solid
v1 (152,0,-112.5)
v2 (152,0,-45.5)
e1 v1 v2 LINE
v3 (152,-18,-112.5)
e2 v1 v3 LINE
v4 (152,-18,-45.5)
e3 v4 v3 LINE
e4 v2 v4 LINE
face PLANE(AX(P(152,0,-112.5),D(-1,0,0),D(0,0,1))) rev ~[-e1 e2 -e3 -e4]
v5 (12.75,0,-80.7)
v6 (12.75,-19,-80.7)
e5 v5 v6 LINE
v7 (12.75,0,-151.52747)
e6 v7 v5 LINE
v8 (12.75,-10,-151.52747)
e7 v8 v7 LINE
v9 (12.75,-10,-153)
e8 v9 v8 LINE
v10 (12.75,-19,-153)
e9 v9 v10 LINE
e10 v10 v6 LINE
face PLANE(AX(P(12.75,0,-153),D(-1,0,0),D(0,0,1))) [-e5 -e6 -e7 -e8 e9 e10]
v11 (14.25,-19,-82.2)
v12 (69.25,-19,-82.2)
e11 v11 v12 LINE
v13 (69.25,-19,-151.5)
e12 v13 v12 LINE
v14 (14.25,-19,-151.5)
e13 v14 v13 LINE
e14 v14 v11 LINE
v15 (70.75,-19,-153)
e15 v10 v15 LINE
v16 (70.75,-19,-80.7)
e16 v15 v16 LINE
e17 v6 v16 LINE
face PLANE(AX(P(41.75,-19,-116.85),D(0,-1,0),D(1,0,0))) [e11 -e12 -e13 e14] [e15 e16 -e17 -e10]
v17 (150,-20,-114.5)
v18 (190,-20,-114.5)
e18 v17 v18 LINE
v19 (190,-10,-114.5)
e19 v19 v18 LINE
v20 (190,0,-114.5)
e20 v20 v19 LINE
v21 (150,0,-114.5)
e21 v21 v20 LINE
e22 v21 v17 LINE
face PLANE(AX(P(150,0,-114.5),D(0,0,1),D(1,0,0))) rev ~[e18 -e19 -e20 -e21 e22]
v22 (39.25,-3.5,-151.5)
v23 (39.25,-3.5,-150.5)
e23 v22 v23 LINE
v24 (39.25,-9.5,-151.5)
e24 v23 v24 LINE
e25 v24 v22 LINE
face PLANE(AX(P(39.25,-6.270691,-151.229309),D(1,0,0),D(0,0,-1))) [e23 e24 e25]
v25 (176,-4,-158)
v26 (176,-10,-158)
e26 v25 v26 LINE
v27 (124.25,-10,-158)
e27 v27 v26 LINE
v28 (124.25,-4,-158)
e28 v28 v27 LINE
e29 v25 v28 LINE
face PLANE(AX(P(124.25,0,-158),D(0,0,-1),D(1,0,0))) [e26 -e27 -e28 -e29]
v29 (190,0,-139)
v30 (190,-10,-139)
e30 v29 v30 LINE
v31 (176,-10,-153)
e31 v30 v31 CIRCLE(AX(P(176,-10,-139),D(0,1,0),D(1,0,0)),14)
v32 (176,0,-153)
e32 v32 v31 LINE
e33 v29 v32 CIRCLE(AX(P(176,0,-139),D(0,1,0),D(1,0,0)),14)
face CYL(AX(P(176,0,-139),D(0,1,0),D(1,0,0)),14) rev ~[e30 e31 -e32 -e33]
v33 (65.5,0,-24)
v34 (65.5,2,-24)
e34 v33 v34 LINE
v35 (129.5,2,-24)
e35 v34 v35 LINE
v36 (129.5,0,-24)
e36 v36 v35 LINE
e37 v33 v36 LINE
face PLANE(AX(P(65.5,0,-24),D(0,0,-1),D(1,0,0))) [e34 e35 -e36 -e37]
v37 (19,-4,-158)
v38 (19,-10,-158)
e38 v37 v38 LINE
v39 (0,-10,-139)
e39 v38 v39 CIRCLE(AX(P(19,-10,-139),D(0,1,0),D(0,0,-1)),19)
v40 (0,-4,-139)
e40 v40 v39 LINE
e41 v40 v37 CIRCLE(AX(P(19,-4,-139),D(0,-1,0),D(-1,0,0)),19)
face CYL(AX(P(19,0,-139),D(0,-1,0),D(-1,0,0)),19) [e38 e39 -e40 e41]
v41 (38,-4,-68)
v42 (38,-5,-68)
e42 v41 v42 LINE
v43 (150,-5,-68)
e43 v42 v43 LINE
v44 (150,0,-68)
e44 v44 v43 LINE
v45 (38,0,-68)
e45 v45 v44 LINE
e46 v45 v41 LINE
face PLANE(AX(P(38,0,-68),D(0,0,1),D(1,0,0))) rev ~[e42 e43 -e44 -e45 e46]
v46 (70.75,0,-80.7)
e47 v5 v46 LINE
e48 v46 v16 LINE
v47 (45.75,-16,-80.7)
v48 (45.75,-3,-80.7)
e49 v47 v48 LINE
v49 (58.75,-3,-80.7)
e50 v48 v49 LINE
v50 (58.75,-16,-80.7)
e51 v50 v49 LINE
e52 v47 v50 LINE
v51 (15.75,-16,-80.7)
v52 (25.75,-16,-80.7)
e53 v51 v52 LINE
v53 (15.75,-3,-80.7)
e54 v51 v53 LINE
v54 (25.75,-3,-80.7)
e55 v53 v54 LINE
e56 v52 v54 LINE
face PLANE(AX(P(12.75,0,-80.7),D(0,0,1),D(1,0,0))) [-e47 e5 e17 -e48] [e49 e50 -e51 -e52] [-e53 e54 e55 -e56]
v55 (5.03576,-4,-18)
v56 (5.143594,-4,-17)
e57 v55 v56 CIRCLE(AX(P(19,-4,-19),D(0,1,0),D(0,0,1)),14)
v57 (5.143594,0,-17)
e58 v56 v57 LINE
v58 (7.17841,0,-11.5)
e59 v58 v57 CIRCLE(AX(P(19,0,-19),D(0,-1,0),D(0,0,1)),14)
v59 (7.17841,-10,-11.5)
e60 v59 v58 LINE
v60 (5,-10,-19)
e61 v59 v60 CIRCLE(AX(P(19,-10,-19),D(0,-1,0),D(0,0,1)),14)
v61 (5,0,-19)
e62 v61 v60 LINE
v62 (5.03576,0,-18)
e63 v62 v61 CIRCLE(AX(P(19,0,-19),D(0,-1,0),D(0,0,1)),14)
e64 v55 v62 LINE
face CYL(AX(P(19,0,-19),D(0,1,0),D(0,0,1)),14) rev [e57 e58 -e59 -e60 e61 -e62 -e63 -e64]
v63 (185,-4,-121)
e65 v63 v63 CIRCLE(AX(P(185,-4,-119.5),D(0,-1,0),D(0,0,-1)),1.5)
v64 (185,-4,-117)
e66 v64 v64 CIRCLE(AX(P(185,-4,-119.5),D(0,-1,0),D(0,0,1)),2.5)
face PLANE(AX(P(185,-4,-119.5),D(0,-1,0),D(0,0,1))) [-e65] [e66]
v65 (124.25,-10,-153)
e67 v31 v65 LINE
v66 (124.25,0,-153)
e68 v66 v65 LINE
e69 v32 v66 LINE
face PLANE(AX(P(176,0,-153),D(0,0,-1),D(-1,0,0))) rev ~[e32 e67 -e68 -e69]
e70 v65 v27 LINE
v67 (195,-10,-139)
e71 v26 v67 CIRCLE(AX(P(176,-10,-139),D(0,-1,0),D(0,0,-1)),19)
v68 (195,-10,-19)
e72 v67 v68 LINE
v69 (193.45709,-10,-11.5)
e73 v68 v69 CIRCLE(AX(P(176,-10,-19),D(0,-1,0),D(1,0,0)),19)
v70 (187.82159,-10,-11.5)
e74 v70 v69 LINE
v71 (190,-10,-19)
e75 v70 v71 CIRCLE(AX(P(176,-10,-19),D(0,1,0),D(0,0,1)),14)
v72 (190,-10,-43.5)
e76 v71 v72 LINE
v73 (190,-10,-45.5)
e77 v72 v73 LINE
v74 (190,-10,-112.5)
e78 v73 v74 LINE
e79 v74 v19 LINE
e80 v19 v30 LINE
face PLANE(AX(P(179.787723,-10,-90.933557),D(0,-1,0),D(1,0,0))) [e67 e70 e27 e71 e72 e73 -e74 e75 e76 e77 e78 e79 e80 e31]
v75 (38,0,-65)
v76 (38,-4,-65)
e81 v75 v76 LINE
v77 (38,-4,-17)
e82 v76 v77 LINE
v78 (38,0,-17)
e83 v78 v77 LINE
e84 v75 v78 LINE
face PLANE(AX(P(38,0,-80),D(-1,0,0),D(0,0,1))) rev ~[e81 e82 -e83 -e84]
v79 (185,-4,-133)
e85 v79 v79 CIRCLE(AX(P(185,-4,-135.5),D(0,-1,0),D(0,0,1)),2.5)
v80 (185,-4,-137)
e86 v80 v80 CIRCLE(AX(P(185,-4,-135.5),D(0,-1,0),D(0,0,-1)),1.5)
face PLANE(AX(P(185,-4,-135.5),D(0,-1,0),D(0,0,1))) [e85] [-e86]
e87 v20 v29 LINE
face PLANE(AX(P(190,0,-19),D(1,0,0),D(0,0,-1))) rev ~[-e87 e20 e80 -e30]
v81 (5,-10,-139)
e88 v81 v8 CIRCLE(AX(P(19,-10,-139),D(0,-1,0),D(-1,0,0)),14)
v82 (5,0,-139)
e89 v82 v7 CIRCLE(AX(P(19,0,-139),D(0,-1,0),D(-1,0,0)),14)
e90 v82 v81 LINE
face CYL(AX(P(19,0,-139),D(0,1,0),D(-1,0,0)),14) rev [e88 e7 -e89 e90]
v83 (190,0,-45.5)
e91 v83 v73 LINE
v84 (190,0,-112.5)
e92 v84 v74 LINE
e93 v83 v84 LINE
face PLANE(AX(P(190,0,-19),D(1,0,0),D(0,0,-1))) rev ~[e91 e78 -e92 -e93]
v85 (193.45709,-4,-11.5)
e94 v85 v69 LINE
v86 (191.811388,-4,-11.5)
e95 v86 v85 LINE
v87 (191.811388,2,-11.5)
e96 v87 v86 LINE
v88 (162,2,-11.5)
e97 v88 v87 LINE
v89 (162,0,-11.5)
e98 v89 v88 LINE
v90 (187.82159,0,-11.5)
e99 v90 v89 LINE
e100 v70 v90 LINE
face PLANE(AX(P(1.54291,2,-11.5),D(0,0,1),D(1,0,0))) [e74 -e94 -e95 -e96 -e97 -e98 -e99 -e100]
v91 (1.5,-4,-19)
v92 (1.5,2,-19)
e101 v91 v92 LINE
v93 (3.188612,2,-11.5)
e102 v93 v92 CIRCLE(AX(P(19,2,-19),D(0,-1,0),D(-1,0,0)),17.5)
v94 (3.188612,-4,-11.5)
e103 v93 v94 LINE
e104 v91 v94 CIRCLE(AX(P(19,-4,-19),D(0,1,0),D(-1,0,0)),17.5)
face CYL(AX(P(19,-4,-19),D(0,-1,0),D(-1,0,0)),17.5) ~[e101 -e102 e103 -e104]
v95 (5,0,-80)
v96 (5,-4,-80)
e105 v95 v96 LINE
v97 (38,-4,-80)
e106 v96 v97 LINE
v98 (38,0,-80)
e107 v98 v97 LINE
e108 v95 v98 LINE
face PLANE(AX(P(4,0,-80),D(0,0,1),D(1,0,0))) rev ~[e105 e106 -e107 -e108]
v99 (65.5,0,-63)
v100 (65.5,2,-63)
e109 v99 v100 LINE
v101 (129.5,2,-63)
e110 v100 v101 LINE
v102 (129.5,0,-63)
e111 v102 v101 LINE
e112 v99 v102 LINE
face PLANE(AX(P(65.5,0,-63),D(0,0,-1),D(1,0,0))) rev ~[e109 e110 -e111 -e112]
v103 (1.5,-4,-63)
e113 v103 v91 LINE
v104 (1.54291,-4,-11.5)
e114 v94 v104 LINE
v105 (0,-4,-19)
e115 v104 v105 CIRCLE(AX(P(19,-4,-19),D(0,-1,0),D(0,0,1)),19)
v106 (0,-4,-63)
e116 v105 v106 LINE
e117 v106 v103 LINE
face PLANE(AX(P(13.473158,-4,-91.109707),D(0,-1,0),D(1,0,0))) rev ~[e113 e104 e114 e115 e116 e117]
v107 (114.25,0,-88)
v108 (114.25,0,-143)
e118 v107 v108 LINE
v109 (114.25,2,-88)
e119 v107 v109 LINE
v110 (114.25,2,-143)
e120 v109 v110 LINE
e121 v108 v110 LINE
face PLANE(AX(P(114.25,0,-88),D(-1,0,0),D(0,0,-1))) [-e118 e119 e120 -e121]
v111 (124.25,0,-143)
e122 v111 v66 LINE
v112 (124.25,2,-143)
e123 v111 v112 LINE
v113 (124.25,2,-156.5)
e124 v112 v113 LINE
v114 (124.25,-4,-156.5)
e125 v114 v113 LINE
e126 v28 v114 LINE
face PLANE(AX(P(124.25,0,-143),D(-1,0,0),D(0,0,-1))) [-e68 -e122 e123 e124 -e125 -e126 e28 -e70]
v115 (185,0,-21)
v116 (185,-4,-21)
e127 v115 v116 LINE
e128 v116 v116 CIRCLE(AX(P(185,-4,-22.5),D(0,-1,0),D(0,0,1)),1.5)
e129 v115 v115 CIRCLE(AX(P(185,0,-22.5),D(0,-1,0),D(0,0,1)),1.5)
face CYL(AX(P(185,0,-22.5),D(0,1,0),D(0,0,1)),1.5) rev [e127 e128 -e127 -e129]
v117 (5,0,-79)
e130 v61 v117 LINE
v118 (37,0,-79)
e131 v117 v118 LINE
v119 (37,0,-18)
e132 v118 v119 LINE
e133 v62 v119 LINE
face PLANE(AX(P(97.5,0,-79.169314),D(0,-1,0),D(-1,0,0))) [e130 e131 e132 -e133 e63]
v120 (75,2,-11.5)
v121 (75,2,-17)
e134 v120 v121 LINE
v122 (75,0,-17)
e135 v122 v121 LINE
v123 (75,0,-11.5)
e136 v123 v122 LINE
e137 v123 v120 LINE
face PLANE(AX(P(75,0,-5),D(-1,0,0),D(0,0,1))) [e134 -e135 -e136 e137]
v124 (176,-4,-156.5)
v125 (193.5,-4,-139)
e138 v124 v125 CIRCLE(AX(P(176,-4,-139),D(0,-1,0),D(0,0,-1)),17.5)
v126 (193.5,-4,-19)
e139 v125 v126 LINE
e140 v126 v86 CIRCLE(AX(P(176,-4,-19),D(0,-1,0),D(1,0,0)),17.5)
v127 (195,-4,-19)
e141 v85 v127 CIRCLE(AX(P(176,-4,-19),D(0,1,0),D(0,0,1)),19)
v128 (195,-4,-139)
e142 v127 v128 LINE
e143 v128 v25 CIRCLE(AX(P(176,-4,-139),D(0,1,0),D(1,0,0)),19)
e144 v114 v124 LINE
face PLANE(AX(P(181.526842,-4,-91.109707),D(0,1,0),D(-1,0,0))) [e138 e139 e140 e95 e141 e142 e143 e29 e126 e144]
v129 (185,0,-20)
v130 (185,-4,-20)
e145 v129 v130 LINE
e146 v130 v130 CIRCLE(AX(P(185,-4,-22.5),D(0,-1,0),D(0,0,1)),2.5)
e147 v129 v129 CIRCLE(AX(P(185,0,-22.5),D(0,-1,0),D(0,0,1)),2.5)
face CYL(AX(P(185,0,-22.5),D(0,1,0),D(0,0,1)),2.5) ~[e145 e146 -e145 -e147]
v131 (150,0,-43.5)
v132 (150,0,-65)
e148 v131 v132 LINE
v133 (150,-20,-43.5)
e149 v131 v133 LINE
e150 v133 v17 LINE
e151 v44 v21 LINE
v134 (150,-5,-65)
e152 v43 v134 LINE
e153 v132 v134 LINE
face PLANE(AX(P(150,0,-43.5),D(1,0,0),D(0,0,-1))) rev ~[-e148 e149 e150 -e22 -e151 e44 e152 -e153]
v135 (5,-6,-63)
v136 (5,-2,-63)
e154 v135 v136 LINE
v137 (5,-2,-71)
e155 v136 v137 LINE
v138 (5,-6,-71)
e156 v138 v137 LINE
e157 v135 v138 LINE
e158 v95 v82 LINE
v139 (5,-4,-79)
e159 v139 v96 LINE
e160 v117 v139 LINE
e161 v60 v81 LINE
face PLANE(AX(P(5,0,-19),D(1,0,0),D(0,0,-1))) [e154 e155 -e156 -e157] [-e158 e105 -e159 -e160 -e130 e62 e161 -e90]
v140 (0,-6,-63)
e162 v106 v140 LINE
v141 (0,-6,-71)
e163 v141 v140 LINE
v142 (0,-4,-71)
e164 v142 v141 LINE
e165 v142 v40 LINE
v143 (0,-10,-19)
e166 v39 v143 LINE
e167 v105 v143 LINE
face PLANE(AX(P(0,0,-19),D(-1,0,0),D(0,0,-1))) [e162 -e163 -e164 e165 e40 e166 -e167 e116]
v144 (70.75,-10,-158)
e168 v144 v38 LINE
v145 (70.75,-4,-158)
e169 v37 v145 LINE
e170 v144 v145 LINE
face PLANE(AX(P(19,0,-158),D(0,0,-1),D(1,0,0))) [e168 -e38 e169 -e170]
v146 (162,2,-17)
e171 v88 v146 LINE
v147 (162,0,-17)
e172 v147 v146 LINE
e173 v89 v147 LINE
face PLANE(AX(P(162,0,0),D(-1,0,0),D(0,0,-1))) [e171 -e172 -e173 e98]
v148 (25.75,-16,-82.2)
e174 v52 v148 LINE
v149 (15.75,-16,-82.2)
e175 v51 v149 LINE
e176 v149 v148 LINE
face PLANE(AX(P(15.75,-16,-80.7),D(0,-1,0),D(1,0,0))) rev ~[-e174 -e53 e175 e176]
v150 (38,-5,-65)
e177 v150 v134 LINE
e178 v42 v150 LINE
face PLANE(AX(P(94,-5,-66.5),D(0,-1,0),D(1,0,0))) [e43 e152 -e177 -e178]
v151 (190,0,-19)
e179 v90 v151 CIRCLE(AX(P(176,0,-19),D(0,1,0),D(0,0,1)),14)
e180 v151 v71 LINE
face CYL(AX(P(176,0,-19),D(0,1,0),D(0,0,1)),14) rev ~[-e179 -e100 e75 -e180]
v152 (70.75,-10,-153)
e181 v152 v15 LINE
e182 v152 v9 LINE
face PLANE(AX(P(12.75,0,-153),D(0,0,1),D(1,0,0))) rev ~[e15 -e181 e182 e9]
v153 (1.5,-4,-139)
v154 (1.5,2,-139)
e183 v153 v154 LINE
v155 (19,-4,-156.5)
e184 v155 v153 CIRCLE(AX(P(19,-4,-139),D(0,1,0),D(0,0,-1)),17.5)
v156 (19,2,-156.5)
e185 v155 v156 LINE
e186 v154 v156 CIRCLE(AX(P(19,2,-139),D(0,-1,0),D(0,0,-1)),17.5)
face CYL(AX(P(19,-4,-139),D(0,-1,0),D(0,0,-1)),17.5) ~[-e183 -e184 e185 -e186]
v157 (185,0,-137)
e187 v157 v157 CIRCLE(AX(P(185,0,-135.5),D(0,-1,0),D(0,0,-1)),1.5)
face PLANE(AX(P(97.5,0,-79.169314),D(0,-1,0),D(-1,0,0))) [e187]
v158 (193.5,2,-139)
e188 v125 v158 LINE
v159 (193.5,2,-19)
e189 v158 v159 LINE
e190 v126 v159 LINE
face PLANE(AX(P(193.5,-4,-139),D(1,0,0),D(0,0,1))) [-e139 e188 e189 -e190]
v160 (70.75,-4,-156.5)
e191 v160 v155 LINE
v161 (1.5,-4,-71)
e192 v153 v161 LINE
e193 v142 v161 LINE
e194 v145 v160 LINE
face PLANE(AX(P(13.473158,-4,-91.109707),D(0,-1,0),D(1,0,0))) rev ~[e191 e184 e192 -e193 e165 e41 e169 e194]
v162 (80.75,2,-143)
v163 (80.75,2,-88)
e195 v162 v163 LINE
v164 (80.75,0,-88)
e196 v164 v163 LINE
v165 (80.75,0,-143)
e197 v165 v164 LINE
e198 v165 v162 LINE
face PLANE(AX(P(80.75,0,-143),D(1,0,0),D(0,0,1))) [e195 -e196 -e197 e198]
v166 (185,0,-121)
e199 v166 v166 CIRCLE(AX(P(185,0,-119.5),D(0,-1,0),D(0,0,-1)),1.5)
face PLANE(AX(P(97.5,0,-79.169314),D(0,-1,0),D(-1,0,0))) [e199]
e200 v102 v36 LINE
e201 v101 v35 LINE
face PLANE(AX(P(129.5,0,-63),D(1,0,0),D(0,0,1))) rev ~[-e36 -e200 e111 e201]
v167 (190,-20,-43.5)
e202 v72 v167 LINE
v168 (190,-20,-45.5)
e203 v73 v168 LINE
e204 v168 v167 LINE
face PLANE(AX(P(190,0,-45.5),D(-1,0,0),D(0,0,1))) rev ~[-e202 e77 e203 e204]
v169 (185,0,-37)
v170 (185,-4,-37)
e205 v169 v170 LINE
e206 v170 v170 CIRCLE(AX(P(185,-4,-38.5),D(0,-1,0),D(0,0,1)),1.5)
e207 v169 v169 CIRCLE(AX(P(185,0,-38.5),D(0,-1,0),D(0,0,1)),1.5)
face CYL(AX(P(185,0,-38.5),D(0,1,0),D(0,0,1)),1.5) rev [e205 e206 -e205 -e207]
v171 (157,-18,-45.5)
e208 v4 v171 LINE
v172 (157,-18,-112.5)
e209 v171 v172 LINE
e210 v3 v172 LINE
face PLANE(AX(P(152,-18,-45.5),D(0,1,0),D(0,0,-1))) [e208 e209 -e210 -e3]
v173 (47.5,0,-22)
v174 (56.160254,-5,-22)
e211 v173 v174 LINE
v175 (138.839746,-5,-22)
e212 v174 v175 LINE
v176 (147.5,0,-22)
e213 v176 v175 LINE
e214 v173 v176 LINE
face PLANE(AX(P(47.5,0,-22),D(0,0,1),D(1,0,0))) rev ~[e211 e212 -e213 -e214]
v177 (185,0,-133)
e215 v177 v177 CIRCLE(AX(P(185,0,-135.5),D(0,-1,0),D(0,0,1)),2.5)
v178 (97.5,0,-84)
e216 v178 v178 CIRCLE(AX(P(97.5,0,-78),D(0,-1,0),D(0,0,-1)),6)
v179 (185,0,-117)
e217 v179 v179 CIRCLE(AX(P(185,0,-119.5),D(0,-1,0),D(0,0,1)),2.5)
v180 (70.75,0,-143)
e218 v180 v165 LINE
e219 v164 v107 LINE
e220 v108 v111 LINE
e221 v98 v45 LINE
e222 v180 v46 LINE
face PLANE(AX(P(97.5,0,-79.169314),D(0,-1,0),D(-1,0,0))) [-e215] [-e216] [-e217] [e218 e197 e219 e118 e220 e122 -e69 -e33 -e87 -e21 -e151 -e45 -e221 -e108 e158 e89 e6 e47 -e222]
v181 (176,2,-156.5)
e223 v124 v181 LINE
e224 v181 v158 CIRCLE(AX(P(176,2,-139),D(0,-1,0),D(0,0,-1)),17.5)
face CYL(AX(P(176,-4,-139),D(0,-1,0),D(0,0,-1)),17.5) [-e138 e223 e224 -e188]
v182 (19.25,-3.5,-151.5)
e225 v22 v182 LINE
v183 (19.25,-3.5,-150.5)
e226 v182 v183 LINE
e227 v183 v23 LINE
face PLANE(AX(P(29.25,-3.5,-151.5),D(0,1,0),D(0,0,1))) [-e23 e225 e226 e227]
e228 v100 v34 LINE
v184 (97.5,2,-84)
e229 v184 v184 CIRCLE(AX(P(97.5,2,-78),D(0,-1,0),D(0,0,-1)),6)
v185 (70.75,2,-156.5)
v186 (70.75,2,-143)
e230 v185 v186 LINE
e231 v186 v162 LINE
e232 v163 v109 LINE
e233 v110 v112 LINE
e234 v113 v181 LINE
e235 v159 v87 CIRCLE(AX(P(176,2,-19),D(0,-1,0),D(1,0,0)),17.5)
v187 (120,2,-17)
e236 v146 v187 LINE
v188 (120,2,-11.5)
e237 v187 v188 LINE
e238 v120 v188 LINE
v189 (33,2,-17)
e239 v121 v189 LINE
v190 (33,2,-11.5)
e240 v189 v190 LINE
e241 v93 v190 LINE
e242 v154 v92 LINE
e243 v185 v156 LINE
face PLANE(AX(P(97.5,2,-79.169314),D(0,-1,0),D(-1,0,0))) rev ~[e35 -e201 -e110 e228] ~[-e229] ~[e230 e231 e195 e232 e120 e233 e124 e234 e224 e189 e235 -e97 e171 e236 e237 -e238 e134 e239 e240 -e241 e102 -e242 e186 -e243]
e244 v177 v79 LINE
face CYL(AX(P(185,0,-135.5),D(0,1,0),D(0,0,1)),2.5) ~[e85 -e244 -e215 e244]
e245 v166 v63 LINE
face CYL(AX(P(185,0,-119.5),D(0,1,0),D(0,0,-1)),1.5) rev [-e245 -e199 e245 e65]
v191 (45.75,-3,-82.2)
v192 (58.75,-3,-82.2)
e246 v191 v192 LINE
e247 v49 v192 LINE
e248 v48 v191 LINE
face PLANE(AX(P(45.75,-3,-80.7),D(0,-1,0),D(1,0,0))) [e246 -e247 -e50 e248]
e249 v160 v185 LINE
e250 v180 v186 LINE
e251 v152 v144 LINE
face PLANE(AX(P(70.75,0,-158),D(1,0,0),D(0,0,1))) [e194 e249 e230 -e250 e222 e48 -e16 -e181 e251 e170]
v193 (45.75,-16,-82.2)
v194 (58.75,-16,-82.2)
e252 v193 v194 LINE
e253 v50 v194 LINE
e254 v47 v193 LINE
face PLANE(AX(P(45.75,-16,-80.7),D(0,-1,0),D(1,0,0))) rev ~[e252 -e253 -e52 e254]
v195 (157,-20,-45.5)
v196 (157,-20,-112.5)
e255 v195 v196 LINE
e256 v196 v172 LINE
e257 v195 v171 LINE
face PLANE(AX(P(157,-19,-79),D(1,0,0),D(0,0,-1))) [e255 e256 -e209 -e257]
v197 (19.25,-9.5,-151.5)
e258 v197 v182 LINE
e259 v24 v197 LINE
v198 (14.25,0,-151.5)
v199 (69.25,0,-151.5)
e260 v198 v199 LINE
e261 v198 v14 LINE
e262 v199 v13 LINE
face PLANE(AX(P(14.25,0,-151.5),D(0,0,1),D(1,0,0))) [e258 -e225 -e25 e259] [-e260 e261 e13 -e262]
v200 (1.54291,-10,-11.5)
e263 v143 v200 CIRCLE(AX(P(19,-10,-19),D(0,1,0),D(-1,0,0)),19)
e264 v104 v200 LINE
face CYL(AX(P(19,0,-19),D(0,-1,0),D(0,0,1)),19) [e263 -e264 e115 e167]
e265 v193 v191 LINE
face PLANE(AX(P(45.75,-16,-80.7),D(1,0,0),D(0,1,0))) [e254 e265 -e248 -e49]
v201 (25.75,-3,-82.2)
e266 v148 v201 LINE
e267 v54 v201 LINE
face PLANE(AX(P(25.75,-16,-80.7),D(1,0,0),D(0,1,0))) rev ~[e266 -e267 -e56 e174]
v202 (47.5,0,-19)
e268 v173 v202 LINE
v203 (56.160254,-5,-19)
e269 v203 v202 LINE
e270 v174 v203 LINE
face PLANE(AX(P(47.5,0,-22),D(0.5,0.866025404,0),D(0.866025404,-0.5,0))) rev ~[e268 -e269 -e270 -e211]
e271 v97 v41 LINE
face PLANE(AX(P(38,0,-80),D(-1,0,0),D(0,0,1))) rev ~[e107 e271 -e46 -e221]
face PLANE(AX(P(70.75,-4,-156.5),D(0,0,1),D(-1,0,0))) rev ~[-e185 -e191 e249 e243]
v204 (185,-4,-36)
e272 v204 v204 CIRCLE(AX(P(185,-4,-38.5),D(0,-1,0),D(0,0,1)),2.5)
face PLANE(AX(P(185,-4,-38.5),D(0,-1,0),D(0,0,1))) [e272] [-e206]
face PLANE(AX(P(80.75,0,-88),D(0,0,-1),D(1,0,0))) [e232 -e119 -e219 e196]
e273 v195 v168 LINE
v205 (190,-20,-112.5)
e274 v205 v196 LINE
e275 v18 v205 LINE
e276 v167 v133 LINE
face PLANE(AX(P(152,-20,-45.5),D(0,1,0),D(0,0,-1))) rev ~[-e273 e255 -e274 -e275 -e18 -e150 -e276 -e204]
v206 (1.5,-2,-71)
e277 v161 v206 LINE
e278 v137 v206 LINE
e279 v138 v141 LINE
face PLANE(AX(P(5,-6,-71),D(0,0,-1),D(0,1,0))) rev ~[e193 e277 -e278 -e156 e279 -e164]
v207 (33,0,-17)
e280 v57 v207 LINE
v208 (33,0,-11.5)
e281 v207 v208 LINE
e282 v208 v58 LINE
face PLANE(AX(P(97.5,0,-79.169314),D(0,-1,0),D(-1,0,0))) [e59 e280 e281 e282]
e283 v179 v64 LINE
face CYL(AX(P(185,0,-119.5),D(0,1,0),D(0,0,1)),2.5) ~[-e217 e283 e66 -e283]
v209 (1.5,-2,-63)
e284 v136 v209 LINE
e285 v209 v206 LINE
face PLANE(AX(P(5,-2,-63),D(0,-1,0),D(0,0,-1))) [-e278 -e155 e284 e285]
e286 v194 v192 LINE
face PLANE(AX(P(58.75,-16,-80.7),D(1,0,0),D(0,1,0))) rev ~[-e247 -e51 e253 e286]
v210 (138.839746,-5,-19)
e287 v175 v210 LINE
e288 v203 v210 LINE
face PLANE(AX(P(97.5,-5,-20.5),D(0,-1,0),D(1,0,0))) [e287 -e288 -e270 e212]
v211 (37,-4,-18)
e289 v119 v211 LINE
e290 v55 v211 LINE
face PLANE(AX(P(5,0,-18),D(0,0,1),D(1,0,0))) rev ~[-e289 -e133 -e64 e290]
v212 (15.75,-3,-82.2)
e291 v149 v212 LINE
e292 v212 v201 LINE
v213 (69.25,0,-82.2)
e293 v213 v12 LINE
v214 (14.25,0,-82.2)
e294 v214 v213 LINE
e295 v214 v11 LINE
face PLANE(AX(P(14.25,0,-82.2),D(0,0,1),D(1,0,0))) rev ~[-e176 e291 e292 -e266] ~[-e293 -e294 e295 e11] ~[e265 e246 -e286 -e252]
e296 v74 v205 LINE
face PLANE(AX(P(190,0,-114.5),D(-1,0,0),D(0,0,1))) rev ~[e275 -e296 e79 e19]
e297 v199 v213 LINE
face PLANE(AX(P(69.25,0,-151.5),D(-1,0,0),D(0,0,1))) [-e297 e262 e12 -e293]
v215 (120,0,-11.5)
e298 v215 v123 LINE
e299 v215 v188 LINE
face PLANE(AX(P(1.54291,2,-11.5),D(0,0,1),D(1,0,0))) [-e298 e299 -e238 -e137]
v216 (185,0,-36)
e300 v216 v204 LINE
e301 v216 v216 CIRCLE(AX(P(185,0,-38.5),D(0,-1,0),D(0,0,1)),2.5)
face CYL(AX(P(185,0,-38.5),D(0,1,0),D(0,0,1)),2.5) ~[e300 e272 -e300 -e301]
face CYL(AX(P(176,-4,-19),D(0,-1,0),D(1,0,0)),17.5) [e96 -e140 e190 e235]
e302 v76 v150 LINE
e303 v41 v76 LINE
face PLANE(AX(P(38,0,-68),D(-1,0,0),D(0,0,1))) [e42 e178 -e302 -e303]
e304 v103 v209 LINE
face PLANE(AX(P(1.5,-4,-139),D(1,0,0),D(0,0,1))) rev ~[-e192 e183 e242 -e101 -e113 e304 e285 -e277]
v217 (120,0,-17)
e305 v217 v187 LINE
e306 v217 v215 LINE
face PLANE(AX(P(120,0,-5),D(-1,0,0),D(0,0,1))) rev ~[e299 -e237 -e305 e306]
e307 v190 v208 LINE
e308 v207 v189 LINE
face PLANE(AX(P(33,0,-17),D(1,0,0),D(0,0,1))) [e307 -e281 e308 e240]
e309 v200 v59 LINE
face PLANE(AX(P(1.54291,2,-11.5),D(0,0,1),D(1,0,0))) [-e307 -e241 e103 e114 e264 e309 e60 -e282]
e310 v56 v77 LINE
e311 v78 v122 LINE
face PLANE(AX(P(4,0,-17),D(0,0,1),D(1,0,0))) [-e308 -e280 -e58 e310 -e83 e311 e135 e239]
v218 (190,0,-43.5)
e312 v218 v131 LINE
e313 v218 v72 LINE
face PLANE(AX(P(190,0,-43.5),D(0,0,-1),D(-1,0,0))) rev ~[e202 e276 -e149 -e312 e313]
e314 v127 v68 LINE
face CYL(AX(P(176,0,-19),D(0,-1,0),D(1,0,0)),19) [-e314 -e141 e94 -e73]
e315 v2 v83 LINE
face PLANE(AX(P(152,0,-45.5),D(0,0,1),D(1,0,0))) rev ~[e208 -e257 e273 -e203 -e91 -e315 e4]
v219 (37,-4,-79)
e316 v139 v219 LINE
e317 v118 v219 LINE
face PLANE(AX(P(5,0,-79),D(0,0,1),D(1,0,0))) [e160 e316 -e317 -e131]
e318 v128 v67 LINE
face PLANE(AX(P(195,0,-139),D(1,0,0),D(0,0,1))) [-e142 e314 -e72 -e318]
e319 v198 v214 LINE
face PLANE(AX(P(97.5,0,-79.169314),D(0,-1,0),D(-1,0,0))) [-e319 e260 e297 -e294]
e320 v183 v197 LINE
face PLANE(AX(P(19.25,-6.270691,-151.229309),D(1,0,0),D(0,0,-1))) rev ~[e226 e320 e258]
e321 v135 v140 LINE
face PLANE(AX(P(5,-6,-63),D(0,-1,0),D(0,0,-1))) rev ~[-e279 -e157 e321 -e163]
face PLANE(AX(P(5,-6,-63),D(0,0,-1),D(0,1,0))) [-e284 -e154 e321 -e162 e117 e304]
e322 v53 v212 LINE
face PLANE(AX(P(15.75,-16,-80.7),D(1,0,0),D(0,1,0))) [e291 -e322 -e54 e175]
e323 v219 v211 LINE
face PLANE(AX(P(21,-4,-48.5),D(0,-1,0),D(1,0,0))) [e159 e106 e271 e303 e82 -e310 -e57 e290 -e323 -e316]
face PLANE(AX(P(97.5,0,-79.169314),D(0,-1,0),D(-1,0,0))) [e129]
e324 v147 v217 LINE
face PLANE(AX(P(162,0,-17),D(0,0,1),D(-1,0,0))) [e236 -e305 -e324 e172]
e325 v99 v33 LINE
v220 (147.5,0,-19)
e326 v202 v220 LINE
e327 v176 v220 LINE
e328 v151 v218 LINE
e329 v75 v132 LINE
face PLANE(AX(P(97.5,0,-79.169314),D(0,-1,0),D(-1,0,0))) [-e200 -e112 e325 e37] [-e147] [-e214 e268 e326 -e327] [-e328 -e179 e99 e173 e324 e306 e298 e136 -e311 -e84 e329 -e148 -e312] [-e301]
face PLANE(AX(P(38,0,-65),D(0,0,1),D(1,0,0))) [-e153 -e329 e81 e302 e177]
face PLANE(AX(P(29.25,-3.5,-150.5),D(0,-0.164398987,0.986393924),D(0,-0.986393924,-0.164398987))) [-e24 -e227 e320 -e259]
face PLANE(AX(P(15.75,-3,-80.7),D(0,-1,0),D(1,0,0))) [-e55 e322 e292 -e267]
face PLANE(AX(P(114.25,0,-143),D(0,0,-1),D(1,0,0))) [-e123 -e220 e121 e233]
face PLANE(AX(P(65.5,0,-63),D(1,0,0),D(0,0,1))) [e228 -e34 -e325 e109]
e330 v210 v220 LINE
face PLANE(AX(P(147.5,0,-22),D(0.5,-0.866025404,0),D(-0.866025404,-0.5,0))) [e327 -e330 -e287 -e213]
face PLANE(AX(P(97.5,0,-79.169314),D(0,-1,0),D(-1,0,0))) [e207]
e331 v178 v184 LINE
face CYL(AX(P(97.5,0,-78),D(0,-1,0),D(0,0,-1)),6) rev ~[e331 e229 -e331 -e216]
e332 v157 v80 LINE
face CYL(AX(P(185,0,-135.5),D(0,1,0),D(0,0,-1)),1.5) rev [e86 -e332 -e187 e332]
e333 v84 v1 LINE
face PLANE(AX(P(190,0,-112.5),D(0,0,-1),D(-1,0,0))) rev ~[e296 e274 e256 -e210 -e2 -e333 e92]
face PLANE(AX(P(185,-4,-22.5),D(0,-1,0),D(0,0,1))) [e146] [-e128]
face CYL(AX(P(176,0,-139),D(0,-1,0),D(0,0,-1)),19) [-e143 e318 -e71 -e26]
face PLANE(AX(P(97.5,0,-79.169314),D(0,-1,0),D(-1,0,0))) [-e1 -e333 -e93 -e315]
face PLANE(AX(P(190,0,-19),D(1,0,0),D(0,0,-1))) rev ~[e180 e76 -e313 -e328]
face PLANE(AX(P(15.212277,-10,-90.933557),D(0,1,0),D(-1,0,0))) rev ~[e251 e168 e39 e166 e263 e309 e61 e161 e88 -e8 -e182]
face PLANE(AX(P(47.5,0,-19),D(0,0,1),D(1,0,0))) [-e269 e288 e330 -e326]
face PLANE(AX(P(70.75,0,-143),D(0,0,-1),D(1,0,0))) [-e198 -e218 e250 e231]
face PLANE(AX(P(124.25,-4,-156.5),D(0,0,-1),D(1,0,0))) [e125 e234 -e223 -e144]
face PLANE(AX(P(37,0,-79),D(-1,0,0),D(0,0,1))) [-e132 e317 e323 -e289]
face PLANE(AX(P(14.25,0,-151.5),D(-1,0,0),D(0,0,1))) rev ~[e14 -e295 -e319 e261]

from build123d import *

# Parameters (mm, degrees)
BOSS_EXTRUDE1_DEPTH     = 2
SKETCH2_W               = 45
SKETCH2_H               = 5
BOSS_EXTRUDE2_DEPTH     = 10
BOSS_EXTRUDE3_DEPTH     = 20
SKETCH4_W               = 67
SKETCH4_H               = 2
BOSS_EXTRUDE4_DEPTH     = 5
SKETCH5_W               = 58
SKETCH5_H               = 72.3
SKETCH5_W_2             = 55
SKETCH5_H_2             = 69.3
BOSS_EXTRUDE5_DEPTH     = 19
SKETCH6_W               = 13
SKETCH6_H               = 13
SKETCH6_W_2             = 10
CUT_EXTRUDE1_DEPTH      = 1.5
BOSS_EXTRUDE6_DEPTH     = 10
CUT_EXTRUDE2_START      = -6
SKETCH9_W               = 45
SKETCH9_H               = 1.5
CUT_EXTRUDE2_DEPTH      = 7
CUT_EXTRUDE3_DEPTH      = 12
SKETCH11_R              = 2.5
SKETCH11_R_2            = 1.5
BOSS_EXTRUDE7_DEPTH     = 4
SKETCH12_W              = 34
SKETCH12_H              = 63
SKETCH12_W_2            = 32
SKETCH12_H_2            = 61
BOSS_EXTRUDE8_DEPTH     = 4
SKETCH13_W              = 8
SKETCH13_H              = 4
CUT_EXTRUDE4_DEPTH      = 18
SKETCH14_R              = 6
SKETCH14_W              = 64
SKETCH14_H              = 39
CUT_EXTRUDE5_DEPTH      = 21
CUT_EXTRUDE5_DEPTH_BACK = 3
SKETCH15_W              = 100
SKETCH15_H              = 3
SKETCH15_W_2            = 112
BOSS_EXTRUDE9_DEPTH     = 5
CUT_EXTRUDE6_DEPTH      = 5


with BuildPart() as part:
    # Sketch1 → Boss-Extrude1 (new body)
    with BuildSketch(Plane(origin=(0, 0, 0), x_dir=(1, 0, 0), z_dir=(0, 1, 0))):
        with BuildLine():
            Line((124.25, 158), (176, 158))
            ThreePointArc((176, 158), (189.435028843, 152.435028843), (195, 139))
            Line((195, 139), (195, 19))
            ThreePointArc((195, 19), (189.435028843, 5.564971157), (176, 0))
            Line((176, 0), (162, 0))
            Line((162, 0), (162, 17))
            Line((162, 17), (120, 17))
            Line((120, 17), (120, 0))
            Line((120, 0), (75, 0))
            Line((75, 0), (75, 17))
            Line((75, 17), (33, 17))
            Line((33, 17), (33, 0))
            Line((33, 0), (19, 0))
            ThreePointArc((19, 0), (5.564971157, 5.564971157), (0, 19))
            Line((0, 19), (0, 139))
            ThreePointArc((0, 139), (5.564971157, 152.435028843), (19, 158))
            Line((19, 158), (70.75, 158))
            Line((70.75, 158), (70.75, 143))
            Line((70.75, 143), (80.75, 143))
            Line((80.75, 143), (80.75, 88))
            Line((80.75, 88), (114.25, 88))
            Line((114.25, 88), (114.25, 143))
            Line((114.25, 143), (124.25, 143))
            Line((124.25, 143), (124.25, 158))
        make_face()
    extrude(amount=BOSS_EXTRUDE1_DEPTH)

    # Sketch2 → Boss-Extrude2 (add)
    with BuildSketch(Plane.XZ):
        with Locations((97.5, -2.5)):
            Rectangle(SKETCH2_W, SKETCH2_H)
        with BuildLine():
            Line((33, 0), (33, -5))
            Line((33, -5), (19, -5))
            ThreePointArc((19, -5), (9.100505063, -9.100505063), (5, -19))
            Line((5, -19), (5, -139))
            ThreePointArc((5, -139), (9.100505063, -148.899494937), (19, -153))
            Line((19, -153), (70.75, -153))
            Line((70.75, -153), (70.75, -158))
            Line((70.75, -158), (19, -158))
            ThreePointArc((19, -158), (5.564971157, -152.435028843), (0, -139))
            Line((0, -139), (0, -19))
            ThreePointArc((0, -19), (5.564971157, -5.564971157), (19, 0))
            Line((19, 0), (33, 0))
        make_face()
        with BuildLine():
            Line((162, 0), (162, -5))
            Line((162, -5), (176, -5))
            ThreePointArc((176, -5), (185.899494937, -9.100505063), (190, -19))
            Line((190, -19), (190, -139))
            ThreePointArc((190, -139), (185.899494937, -148.899494937), (176, -153))
            Line((176, -153), (124.25, -153))
            Line((124.25, -153), (124.25, -158))
            Line((124.25, -158), (176, -158))
            ThreePointArc((176, -158), (189.435028843, -152.435028843), (195, -139))
            Line((195, -139), (195, -19))
            ThreePointArc((195, -19), (189.435028843, -5.564971157), (176, 0))
            Line((176, 0), (162, 0))
        make_face()
    extrude(amount=BOSS_EXTRUDE2_DEPTH)

    # Sketch3 → Boss-Extrude3 (add)
    with BuildSketch(Plane.XZ):
        Polygon((190, -43.5), (150, -43.5), (150, -114.5), (190, -114.5), (190, -112.5), (152, -112.5), (152, -45.5), (190, -45.5), align=None)
    extrude(amount=BOSS_EXTRUDE3_DEPTH)

    # Sketch4 → Boss-Extrude4 (add)
    with BuildSketch(Plane(origin=(152, 0, 0), x_dir=(0, 0, -1), z_dir=(1, 0, 0))):
        with Locations((79, -19)):
            Rectangle(SKETCH4_W, SKETCH4_H)
    extrude(amount=BOSS_EXTRUDE4_DEPTH)

    # Sketch5 → Boss-Extrude5 (add)
    with BuildSketch(Plane.XZ):
        with Locations((41.75, -116.85)):
            Rectangle(SKETCH5_W, SKETCH5_H)
        with Locations((41.75, -116.85)):
            Rectangle(SKETCH5_W_2, SKETCH5_H_2, mode=Mode.SUBTRACT)
    extrude(amount=BOSS_EXTRUDE5_DEPTH)

    # Sketch6 → Cut-Extrude1 (cut)
    with BuildSketch(Plane.XY.offset(-80.7)):
        with Locations((52.25, -9.5)):
            Rectangle(SKETCH6_W, SKETCH6_H)
        with Locations((20.75, -9.5)):
            Rectangle(SKETCH6_W_2, SKETCH6_H)
    extrude(amount=-CUT_EXTRUDE1_DEPTH, mode=Mode.SUBTRACT)

    # Sketch8 → Boss-Extrude6 (add, symmetric)
    with BuildSketch(Plane(origin=(29.25, 0, 0), x_dir=(0, 0, -1), z_dir=(1, 0, 0))):
        Polygon((151.5, -3.5), (150.5, -3.5), (151.5, -9.5), align=None)
    extrude(amount=BOSS_EXTRUDE6_DEPTH, both=True)

    # Sketch9 → Cut-Extrude2 (cut, through all)
    with BuildSketch(Plane.XZ.offset(10).offset(CUT_EXTRUDE2_START)):
        with BuildLine():
            ThreePointArc((0, -139), (5.564971157, -152.435028843), (19, -158))
            Line((19, -158), (70.75, -158))
            Line((70.75, -158), (70.75, -156.5))
            Line((70.75, -156.5), (19, -156.5))
            ThreePointArc((19, -156.5), (6.625631329, -151.374368671), (1.5, -139))
            Line((1.5, -139), (1.5, -19))
            ThreePointArc((1.5, -19), (6.625631329, -6.625631329), (19, -1.5))
            Line((19, -1.5), (33, -1.5))
            Line((33, -1.5), (33, 0))
            Line((33, 0), (19, 0))
            ThreePointArc((19, 0), (5.564971157, -5.564971157), (0, -19))
            Line((0, -19), (0, -139))
        make_face()
        with BuildLine():
            ThreePointArc((193.5, -19), (188.374368671, -6.625631329), (176, -1.5))
            Line((176, -1.5), (162, -1.5))
            Line((162, -1.5), (162, 0))
            Line((162, 0), (176, 0))
            ThreePointArc((176, 0), (189.435028843, -5.564971157), (195, -19))
            Line((195, -19), (195, -139))
            ThreePointArc((195, -139), (189.435028843, -152.435028843), (176, -158))
            Line((176, -158), (124.25, -158))
            Line((124.25, -158), (124.25, -156.5))
            Line((124.25, -156.5), (176, -156.5))
            ThreePointArc((176, -156.5), (188.374368671, -151.374368671), (193.5, -139))
            Line((193.5, -139), (193.5, -19))
        make_face()
        with Locations((97.5, -0.75)):
            Rectangle(SKETCH9_W, SKETCH9_H)
    extrude(amount=-CUT_EXTRUDE2_DEPTH, mode=Mode.SUBTRACT)

    # Sketch10 → Cut-Extrude3 (cut)
    with BuildSketch(Plane(origin=(0, 2, 0), x_dir=(1, 0, 0), z_dir=(0, 1, 0))):
        with BuildLine():
            Line((176, 0), (19, 0))
            ThreePointArc((19, 0), (8.54772752, 3.133368347), (1.54290975, 11.5))
            Line((1.54290975, 11.5), (193.45709025, 11.5))
            ThreePointArc((193.45709025, 11.5), (186.45227248, 3.133368347), (176, 0))
        make_face()
    extrude(amount=-CUT_EXTRUDE3_DEPTH, mode=Mode.SUBTRACT)

    # Sketch11 → Boss-Extrude7 (add)
    with BuildSketch(Plane.XZ):
        with Locations(Location((185, -119.5, 0), (0, 0, 90))):  # turned: the seam where the file's is
            Circle(SKETCH11_R)
        with Locations(Location((185, -119.5, 0), (0, 0, 270))):  # turned: the seam where the file's is
            Circle(SKETCH11_R_2, mode=Mode.SUBTRACT)
        with Locations(Location((185, -135.5, 0), (0, 0, 90))):  # turned: the seam where the file's is
            Circle(SKETCH11_R)
        with Locations(Location((185, -135.5, 0), (0, 0, 270))):  # turned: the seam where the file's is
            Circle(SKETCH11_R_2, mode=Mode.SUBTRACT)
        with Locations(Location((185, -38.5, 0), (0, 0, 90))):  # turned: the seam where the file's is
            Circle(SKETCH11_R)
        with Locations(Location((185, -38.5, 0), (0, 0, 90))):  # turned: the seam where the file's is
            Circle(SKETCH11_R_2, mode=Mode.SUBTRACT)
        with Locations(Location((185, -22.5, 0), (0, 0, 90))):  # turned: the seam where the file's is
            Circle(SKETCH11_R)
        with Locations(Location((185, -22.5, 0), (0, 0, 90))):  # turned: the seam where the file's is
            Circle(SKETCH11_R_2, mode=Mode.SUBTRACT)
    extrude(amount=BOSS_EXTRUDE7_DEPTH)

    # Sketch12 → Boss-Extrude8 (add)
    with BuildSketch(Plane.XZ):
        with Locations((21, -48.5)):
            Rectangle(SKETCH12_W, SKETCH12_H)
        with Locations((21, -48.5)):
            Rectangle(SKETCH12_W_2, SKETCH12_H_2, mode=Mode.SUBTRACT)
    extrude(amount=BOSS_EXTRUDE8_DEPTH)

    # Sketch13 → Cut-Extrude4 (cut)
    with BuildSketch(Plane(origin=(5, 0, 0), x_dir=(0, 0, -1), z_dir=(1, 0, 0))):
        with Locations((67, -4)):
            Rectangle(SKETCH13_W, SKETCH13_H)
    extrude(amount=-CUT_EXTRUDE4_DEPTH, mode=Mode.SUBTRACT)

    # Sketch14 → Cut-Extrude5 (cut, two sides)
    with BuildSketch(Plane.XZ) as cut_extrude5_sk:
        with Locations(Location((97.5, -78, 0), (0, 0, 270))):  # turned: the seam where the file's is
            Circle(SKETCH14_R)
        with Locations((97.5, -43.5)):
            Rectangle(SKETCH14_W, SKETCH14_H)
    extrude(amount=CUT_EXTRUDE5_DEPTH, mode=Mode.SUBTRACT)
    extrude(cut_extrude5_sk.sketch, amount=-CUT_EXTRUDE5_DEPTH_BACK, mode=Mode.SUBTRACT)

    # Sketch15 → Boss-Extrude9 (add)
    with BuildSketch(Plane.XZ):
        with Locations((97.5, -20.5)):
            Rectangle(SKETCH15_W, SKETCH15_H)
        with Locations((94, -66.5)):
            Rectangle(SKETCH15_W_2, SKETCH15_H)
    extrude(amount=BOSS_EXTRUDE9_DEPTH)

    # Sketch16 → Cut-Extrude6 (cut)
    with BuildSketch(Plane(origin=(0, 0, -22), x_dir=(-1, 0, 0), z_dir=(0, 0, -1))):
        Polygon((-47.5, 0), (-56.160254038, -5), (-47.5, -5), align=None)
        Polygon((-147.5, 0), (-138.839745962, -5), (-147.5, -5), align=None)
    extrude(amount=-CUT_EXTRUDE6_DEPTH, mode=Mode.SUBTRACT)


solid = part.part
